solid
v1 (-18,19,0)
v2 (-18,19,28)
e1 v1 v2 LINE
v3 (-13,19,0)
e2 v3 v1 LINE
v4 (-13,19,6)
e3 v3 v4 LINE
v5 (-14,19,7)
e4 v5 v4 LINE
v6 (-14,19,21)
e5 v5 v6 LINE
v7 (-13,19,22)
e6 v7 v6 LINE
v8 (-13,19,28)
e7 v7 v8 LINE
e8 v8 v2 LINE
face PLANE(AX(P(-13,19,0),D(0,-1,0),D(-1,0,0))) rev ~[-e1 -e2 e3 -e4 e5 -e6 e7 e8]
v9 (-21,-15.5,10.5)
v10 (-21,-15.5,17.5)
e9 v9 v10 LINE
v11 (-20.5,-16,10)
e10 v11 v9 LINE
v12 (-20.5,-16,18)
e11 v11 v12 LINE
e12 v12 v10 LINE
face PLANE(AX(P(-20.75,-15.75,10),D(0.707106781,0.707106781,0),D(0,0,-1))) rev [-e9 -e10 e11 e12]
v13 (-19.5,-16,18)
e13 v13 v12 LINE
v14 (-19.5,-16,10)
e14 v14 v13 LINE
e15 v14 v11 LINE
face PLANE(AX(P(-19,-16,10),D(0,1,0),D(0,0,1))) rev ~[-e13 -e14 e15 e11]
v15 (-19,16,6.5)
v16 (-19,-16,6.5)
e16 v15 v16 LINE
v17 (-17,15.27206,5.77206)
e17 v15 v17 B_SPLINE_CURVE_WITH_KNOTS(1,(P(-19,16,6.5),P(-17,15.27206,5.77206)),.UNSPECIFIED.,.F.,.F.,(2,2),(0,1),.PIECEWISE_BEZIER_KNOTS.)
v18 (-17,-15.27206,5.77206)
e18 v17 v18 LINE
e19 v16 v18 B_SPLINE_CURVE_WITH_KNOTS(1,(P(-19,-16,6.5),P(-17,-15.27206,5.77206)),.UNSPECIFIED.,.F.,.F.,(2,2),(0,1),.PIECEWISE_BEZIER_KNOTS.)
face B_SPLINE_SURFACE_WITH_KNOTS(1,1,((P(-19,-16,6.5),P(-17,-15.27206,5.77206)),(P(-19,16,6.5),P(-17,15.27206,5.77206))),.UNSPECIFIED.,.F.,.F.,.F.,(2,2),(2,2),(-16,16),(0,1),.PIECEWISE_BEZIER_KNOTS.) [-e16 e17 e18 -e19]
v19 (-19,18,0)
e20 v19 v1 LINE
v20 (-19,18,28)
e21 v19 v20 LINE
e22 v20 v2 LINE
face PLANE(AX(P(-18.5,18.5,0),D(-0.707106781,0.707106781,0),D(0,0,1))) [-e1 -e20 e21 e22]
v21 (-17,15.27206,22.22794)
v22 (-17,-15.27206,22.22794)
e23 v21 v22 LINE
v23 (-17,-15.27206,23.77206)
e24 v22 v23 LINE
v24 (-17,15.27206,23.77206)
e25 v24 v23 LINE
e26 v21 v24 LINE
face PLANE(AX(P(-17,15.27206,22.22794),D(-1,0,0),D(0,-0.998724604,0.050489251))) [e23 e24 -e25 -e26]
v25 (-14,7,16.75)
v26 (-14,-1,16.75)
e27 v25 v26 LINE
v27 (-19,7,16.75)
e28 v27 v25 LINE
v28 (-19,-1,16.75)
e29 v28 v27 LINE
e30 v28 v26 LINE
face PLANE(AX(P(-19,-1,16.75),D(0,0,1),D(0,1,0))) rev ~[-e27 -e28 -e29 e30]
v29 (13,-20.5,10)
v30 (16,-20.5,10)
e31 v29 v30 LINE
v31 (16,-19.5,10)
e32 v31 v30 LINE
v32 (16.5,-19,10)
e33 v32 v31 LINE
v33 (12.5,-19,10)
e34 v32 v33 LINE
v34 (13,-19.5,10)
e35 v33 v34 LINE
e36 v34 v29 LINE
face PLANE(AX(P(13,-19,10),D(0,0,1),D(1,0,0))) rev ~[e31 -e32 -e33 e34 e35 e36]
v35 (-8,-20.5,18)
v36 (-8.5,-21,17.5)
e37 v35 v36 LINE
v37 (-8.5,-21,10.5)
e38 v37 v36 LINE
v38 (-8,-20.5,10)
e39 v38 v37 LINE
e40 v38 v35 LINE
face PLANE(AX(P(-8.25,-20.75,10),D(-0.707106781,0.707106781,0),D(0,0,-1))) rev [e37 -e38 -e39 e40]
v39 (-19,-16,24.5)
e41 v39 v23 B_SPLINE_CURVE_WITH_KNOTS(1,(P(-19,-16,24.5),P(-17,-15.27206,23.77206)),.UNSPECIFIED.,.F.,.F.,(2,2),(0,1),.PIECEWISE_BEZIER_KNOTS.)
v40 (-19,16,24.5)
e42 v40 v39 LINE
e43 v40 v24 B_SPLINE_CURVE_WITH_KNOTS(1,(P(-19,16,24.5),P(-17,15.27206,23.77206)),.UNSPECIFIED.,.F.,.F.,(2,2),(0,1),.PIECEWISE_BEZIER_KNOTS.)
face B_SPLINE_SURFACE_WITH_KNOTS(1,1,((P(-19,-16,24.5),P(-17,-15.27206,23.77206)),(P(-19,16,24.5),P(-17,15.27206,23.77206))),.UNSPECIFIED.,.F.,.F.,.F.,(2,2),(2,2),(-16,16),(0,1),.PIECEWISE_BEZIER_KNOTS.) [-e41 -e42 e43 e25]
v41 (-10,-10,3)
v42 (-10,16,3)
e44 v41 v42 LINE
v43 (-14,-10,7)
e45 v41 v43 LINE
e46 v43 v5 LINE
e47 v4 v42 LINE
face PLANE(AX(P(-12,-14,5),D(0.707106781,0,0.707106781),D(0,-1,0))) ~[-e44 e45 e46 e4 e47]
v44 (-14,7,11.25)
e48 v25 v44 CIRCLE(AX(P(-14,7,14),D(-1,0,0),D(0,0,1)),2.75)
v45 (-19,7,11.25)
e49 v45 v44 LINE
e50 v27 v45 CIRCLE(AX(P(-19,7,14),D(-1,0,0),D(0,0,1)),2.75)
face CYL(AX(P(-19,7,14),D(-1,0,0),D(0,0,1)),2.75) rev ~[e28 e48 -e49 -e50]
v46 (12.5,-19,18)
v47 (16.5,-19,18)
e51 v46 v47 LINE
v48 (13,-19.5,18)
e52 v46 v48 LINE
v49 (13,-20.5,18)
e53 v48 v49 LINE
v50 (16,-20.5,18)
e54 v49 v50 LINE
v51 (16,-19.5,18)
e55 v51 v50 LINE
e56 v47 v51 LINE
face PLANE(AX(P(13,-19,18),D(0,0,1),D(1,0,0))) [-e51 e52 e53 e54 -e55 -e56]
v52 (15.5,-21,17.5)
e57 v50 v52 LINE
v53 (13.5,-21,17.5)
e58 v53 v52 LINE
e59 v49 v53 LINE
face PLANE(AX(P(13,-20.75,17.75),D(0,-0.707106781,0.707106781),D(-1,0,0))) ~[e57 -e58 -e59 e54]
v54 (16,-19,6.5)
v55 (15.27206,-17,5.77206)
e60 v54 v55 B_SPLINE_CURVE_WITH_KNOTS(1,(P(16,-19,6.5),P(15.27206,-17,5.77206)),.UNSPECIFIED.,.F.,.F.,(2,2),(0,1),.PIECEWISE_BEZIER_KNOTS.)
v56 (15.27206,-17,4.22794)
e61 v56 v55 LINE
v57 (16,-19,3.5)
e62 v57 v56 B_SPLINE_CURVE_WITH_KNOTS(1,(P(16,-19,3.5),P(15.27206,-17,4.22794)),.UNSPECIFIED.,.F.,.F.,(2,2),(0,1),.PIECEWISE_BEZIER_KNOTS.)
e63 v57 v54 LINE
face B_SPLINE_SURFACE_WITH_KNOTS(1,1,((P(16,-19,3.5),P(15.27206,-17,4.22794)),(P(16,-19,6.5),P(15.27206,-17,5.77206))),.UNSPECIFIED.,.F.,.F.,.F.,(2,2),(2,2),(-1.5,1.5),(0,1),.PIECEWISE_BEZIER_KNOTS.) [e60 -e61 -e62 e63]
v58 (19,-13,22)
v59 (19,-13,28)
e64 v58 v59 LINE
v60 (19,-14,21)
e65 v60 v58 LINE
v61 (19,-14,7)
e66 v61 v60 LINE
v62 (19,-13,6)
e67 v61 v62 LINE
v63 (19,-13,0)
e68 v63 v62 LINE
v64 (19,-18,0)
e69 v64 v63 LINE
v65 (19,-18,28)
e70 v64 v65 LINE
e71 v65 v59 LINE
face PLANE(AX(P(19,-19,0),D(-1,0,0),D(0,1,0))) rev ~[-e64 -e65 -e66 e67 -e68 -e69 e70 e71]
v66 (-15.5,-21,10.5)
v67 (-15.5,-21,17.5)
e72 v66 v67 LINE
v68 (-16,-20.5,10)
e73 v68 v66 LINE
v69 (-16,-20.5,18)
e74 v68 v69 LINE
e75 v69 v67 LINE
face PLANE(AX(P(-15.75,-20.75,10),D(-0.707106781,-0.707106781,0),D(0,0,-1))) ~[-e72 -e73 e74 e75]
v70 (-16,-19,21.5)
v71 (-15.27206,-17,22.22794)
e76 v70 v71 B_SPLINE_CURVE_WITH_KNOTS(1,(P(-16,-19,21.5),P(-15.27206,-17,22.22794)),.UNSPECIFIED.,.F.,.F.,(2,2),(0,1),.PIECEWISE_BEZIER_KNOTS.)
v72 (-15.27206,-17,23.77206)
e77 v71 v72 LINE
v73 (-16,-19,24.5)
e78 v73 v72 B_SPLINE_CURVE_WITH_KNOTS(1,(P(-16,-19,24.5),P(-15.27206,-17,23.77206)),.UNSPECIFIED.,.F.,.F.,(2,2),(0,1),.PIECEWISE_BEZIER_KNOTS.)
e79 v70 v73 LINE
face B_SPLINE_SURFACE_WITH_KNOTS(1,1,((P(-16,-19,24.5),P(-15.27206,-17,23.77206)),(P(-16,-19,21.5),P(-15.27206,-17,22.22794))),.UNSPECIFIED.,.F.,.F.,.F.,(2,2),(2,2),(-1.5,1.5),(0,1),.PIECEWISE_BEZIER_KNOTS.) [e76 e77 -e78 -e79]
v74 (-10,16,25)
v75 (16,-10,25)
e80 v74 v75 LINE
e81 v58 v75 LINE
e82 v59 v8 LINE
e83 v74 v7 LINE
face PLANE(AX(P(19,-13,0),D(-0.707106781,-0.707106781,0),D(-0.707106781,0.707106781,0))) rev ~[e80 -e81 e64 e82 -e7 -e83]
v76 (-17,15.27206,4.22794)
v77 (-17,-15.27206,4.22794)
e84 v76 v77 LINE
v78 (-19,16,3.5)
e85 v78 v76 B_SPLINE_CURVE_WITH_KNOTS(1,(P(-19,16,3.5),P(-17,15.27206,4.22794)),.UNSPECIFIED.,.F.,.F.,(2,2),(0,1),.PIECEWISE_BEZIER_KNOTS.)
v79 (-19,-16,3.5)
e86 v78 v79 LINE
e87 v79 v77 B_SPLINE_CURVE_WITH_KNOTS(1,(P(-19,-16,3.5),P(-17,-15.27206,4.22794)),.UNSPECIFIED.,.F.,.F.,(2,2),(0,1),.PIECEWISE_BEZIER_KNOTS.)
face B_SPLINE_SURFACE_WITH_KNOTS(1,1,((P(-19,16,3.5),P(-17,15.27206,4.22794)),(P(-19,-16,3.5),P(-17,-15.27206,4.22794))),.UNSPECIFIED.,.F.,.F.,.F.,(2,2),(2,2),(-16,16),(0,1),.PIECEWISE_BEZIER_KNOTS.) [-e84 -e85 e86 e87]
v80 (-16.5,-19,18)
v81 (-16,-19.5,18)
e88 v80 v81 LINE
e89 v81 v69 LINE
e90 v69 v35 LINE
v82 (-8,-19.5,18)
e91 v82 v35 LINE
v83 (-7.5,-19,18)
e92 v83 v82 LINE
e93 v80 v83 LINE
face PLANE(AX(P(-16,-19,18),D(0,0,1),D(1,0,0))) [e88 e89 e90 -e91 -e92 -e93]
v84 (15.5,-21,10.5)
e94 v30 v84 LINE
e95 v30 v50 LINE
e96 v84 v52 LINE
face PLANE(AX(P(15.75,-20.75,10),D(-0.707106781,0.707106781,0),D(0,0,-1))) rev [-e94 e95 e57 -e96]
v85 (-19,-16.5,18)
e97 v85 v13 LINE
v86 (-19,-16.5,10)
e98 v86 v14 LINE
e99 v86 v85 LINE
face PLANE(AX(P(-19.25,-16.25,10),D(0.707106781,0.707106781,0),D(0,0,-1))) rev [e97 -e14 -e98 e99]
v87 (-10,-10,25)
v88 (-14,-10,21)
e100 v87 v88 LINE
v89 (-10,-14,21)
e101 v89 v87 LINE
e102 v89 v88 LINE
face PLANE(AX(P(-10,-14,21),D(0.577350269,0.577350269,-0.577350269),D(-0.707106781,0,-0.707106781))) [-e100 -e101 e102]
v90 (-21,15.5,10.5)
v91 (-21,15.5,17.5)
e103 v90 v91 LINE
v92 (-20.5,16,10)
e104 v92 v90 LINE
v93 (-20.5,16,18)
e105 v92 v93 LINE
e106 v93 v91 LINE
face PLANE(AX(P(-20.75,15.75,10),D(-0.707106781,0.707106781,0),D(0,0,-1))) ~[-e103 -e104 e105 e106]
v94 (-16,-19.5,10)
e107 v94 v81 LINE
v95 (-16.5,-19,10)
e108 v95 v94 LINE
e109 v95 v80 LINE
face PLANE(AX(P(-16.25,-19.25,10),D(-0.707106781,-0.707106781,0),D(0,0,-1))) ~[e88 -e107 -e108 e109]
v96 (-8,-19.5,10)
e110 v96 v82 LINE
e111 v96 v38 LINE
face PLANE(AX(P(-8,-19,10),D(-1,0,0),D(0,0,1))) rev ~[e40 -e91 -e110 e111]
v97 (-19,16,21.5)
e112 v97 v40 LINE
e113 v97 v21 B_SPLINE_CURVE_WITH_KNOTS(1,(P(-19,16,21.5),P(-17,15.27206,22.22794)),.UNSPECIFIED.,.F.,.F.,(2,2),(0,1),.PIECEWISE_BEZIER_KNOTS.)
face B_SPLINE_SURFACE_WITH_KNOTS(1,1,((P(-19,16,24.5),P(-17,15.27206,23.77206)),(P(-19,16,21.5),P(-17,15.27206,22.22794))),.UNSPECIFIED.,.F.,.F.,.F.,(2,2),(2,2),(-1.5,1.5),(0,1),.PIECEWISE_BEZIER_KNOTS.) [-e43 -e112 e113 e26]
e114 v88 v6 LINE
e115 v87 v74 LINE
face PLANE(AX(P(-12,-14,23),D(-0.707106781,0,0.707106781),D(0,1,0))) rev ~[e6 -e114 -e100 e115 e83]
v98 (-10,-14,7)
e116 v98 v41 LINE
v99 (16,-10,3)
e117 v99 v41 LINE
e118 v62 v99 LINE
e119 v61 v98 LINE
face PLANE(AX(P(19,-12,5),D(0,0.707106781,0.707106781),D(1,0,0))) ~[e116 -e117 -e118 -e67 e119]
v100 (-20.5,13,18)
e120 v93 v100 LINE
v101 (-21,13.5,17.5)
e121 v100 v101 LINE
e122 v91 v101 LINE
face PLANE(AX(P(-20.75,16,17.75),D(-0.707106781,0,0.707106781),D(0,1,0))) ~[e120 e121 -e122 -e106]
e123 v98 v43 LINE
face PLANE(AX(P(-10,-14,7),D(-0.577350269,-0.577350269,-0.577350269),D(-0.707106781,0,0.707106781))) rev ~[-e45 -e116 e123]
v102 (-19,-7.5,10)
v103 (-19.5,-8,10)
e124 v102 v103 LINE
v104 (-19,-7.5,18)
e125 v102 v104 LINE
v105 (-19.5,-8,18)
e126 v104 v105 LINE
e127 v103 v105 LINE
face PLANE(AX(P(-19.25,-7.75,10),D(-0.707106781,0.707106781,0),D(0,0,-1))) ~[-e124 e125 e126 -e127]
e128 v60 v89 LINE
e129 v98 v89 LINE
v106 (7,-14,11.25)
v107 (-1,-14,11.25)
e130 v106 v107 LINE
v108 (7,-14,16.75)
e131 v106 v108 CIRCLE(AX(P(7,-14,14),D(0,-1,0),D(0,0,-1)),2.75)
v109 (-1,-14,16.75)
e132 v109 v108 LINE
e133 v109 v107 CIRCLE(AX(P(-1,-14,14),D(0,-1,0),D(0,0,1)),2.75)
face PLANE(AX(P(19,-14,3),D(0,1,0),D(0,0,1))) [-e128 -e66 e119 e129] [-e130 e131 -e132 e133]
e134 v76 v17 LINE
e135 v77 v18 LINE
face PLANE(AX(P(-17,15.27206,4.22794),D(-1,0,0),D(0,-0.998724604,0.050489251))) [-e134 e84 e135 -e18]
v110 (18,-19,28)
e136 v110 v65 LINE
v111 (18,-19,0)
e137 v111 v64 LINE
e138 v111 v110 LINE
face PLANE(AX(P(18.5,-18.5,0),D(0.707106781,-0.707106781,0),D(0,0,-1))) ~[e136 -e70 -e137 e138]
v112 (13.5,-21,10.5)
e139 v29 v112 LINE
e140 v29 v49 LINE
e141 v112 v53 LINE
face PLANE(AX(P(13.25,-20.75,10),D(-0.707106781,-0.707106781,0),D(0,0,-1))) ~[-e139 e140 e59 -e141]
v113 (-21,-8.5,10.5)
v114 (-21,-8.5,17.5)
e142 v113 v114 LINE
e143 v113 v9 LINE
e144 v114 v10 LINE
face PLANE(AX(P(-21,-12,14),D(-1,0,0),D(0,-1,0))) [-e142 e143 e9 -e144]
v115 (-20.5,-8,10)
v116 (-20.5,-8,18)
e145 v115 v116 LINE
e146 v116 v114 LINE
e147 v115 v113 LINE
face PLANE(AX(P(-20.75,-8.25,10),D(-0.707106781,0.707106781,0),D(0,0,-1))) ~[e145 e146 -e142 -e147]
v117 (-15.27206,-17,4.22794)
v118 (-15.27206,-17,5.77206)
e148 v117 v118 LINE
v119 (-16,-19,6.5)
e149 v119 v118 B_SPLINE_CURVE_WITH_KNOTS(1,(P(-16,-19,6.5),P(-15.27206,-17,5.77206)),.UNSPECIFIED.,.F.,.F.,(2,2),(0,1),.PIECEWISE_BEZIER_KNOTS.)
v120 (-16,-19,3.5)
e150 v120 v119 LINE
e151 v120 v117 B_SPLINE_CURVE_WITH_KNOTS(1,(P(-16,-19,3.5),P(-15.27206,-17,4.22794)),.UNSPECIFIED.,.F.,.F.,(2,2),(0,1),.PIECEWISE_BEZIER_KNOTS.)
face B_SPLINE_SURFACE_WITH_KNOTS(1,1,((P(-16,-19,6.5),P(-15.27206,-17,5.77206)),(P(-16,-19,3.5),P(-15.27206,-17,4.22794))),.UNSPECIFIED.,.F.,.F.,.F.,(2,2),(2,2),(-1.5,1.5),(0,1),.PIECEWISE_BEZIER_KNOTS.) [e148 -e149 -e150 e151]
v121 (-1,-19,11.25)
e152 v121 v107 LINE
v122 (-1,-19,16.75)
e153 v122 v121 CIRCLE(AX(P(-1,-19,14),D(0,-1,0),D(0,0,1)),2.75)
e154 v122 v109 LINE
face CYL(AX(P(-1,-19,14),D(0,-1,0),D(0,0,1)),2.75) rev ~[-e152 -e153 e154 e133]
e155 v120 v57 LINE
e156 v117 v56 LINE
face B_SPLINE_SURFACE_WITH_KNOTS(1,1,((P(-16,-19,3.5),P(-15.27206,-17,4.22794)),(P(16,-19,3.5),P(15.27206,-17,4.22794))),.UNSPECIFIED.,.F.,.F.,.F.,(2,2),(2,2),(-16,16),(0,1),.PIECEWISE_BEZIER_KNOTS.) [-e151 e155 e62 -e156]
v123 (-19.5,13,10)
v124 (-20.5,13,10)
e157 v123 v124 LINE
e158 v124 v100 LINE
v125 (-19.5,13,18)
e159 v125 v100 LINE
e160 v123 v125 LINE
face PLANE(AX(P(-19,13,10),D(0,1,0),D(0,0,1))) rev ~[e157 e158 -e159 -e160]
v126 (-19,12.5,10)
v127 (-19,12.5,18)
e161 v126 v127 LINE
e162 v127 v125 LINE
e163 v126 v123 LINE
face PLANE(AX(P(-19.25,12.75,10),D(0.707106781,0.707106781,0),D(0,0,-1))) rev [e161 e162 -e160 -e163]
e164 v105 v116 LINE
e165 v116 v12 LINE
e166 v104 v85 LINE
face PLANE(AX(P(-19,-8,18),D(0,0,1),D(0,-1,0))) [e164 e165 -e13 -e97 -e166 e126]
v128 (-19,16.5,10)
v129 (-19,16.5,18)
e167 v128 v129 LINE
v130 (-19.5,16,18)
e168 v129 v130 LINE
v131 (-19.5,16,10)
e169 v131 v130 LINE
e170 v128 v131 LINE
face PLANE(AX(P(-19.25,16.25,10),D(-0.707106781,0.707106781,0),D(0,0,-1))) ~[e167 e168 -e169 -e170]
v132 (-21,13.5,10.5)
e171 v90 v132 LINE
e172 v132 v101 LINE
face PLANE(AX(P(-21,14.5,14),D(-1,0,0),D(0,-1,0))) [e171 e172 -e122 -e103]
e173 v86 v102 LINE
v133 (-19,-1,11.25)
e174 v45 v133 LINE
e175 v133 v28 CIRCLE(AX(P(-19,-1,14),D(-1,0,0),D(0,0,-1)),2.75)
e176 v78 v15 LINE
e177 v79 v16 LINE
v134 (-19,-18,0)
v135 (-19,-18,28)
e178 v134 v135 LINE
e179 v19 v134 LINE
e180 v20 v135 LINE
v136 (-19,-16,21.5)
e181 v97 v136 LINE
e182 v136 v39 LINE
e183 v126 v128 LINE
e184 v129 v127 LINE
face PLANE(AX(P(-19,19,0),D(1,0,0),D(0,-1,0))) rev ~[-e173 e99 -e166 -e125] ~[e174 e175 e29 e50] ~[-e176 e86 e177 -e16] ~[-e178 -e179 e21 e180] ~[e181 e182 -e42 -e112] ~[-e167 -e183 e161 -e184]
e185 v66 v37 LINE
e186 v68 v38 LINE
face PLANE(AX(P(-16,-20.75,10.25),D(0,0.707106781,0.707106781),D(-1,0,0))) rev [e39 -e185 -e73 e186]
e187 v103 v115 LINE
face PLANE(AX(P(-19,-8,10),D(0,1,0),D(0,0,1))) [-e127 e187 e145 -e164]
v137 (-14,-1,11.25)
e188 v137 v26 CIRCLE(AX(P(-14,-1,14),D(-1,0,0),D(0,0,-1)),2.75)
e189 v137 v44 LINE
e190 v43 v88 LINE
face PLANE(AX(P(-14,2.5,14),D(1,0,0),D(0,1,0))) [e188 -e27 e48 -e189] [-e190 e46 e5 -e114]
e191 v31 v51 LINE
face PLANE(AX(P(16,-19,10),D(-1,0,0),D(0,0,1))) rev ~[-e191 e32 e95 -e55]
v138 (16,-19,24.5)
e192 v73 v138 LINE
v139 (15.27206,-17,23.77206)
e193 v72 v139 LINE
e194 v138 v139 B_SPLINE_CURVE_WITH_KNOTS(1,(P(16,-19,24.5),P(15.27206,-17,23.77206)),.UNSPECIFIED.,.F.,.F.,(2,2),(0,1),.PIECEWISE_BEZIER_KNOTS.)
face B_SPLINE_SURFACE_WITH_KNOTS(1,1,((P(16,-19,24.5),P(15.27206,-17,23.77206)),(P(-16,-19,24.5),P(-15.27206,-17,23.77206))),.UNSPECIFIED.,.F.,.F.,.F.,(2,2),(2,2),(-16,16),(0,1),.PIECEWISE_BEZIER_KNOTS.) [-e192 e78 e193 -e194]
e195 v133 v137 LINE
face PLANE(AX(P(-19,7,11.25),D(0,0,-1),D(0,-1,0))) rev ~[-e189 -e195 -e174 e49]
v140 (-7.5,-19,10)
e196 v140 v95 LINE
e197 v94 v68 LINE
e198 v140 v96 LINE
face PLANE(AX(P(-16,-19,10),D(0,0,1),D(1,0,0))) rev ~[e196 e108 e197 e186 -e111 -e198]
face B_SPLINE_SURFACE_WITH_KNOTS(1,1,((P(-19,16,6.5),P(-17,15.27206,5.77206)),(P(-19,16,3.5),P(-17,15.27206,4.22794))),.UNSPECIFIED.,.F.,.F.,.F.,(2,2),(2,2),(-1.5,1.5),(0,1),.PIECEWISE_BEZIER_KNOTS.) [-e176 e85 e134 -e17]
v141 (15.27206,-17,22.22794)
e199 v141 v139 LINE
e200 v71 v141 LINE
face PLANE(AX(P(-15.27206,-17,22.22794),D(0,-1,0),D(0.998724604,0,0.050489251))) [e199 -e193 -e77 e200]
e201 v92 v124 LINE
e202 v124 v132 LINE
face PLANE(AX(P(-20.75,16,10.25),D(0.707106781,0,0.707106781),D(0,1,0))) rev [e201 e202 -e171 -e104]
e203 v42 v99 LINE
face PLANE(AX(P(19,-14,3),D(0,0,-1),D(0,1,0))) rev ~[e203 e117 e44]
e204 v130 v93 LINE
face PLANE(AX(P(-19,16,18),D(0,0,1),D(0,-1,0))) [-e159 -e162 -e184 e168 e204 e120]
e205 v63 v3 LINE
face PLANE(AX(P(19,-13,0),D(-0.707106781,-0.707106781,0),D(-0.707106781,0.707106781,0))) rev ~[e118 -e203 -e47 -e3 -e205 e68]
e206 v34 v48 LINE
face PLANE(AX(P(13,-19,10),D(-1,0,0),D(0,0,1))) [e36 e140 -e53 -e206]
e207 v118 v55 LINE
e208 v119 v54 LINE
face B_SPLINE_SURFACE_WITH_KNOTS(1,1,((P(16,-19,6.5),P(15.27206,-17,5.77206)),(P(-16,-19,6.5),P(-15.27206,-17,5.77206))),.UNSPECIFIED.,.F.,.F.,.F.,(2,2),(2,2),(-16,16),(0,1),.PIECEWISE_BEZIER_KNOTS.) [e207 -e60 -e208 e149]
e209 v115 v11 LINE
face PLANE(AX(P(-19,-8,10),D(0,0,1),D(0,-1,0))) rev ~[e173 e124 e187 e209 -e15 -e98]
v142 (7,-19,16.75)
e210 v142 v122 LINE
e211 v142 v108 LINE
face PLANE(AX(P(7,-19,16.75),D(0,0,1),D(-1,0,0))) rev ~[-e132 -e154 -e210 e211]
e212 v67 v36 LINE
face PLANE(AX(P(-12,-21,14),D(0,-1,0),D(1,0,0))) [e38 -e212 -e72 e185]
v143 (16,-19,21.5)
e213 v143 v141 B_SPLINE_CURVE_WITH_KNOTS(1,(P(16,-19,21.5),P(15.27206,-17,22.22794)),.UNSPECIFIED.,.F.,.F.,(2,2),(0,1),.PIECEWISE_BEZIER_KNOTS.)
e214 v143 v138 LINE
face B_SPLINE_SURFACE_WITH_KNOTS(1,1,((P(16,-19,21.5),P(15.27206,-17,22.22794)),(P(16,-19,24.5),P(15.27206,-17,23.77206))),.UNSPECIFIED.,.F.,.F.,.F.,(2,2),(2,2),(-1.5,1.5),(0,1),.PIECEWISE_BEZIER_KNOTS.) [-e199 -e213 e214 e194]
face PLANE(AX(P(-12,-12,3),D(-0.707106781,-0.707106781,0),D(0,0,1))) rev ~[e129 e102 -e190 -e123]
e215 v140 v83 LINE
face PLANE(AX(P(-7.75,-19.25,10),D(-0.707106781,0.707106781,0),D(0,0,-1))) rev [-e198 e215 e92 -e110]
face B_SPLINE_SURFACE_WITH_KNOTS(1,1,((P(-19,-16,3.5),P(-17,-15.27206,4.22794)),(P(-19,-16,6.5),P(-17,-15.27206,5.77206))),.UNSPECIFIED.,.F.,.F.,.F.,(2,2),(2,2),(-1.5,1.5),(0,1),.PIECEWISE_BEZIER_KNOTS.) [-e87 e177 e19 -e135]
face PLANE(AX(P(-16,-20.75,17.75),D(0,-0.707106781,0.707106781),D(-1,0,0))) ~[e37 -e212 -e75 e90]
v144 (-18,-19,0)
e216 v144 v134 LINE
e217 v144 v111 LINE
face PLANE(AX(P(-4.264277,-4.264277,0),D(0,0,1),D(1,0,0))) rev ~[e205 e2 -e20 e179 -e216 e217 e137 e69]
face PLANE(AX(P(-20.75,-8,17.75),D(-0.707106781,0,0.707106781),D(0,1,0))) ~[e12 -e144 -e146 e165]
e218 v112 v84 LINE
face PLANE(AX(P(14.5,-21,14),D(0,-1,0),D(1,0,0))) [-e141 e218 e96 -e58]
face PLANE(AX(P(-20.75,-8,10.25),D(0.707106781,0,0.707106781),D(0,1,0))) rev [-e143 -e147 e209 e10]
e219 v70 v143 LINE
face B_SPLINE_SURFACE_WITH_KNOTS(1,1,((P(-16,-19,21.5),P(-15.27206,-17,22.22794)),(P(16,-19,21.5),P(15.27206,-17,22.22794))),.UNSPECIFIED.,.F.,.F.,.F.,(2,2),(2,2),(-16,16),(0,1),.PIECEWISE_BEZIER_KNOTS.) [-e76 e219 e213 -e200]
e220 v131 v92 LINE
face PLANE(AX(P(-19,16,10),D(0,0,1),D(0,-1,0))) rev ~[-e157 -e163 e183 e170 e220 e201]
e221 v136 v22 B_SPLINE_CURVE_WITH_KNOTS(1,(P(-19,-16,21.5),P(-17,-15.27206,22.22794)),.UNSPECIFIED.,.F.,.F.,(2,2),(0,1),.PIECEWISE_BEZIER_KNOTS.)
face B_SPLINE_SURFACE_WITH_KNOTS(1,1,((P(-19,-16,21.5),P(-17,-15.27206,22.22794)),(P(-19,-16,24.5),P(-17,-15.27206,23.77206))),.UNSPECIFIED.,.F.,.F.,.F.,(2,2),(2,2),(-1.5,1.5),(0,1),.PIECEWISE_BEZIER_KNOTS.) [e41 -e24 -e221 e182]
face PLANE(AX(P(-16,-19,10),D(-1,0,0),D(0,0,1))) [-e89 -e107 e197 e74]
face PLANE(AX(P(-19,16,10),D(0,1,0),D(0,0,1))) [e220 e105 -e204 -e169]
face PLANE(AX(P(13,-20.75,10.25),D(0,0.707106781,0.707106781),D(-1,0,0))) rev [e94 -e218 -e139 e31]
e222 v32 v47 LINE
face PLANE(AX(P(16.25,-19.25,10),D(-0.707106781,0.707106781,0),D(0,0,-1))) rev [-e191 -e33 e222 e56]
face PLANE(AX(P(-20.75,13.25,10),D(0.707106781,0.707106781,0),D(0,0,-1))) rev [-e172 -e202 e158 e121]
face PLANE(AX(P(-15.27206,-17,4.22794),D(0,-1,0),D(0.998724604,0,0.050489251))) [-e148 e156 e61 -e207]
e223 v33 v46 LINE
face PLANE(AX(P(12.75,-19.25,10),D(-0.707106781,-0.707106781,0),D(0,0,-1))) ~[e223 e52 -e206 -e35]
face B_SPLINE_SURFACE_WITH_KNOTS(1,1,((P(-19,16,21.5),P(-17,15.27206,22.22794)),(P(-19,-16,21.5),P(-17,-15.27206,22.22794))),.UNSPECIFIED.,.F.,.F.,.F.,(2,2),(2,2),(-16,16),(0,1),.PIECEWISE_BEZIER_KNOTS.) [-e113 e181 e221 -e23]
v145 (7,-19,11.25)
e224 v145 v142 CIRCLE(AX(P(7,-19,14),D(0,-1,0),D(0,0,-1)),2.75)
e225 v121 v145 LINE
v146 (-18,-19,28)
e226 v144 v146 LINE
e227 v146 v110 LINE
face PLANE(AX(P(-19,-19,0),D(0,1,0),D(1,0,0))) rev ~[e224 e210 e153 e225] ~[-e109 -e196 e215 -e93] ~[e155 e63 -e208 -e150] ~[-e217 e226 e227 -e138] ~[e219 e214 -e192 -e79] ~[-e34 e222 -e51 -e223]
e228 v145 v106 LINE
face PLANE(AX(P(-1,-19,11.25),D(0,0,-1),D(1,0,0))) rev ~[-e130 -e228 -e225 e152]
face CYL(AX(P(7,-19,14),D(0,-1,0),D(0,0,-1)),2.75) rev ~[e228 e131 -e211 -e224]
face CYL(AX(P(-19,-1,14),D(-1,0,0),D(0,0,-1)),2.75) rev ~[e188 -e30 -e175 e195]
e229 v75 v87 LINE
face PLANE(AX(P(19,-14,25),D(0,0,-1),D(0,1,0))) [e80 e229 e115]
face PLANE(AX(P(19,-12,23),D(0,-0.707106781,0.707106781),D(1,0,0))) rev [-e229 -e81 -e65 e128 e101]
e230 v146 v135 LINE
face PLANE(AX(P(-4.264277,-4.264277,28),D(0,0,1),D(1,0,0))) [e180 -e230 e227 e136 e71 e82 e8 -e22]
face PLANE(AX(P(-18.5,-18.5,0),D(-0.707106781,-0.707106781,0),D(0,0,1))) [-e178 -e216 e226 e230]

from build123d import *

# Parameters (mm, degrees)
F1_DEPTH  = 28
F2_W      = 33
F2_H      = 22
F3_DEPTH  = 33
F6_DEPTH  = 25
F7_DEPTH  = 25
F4_W      = 8
F4_H      = 8
F4_W_2    = 3
F8_DEPTH  = 2
F5_W      = 32
F5_H      = 3
F9_DEPTH  = 2
F9_TAPER  = 20
F5_W_2    = 3
F5_H_2    = 8
F5_W_3    = 8
F10_DEPTH = 2
F4_W_3    = 32
F4_H_2    = 3
F11_DEPTH = 2
F11_TAPER = 20
F12_SIZE  = 1
F13_SIZE  = 0.5
F14_SIZE  = 4


with BuildPart() as f1:
    # F0 (on Top) → F1 (new body)
    with BuildSketch(Plane.XY):
        Polygon((-19, -19), (19, -19), (19, -13), (-13, 19), (-19, 19), align=None)
    extrude(amount=F1_DEPTH)

    # F2 (on face) → F3 (cut, through all)
    with BuildSketch(Plane.YZ.offset(19)):
        with Locations((2.5, 14)):
            Rectangle(F2_W, F2_H)
    extrude(amount=-F3_DEPTH, mode=Mode.SUBTRACT)

    # F4 (on face) → F6 (cut)
    with BuildSketch(Plane.XZ.offset(19)):
        with BuildLine():
            Line((-1, 11.25), (7, 11.25))
            ThreePointArc((7, 11.25), (9.75, 14), (7, 16.75))
            Line((7, 16.75), (-1, 16.75))
            ThreePointArc((-1, 16.75), (-3.75, 14), (-1, 11.25))
        make_face()
    extrude(amount=-F6_DEPTH, mode=Mode.SUBTRACT)

    # F5 (on face) → F7 (cut)
    with BuildSketch(Plane(origin=(-19, 0, 0), x_dir=(0, -1, 0), z_dir=(-1, 0, 0))):
        with BuildLine():
            Line((-7, 11.25), (1, 11.25))
            ThreePointArc((1, 11.25), (3.75, 14), (1, 16.75))
            Line((1, 16.75), (-7, 16.75))
            ThreePointArc((-7, 16.75), (-9.75, 14), (-7, 11.25))
        make_face()
    extrude(amount=-F7_DEPTH, mode=Mode.SUBTRACT)

    # F4 (on face) → F8 (join)
    with BuildSketch(Plane.XZ.offset(19)):
        with Locations((-12, 14)):
            Rectangle(F4_W, F4_H)
        with Locations((14.5, 14)):
            Rectangle(F4_W_2, F4_H)
    extrude(amount=F8_DEPTH)

    # F5 (on face) → F9 (cut)
    with BuildSketch(Plane(origin=(-19, 0, 0), x_dir=(0, -1, 0), z_dir=(-1, 0, 0))):
        with Locations((0, 23)):
            Rectangle(F5_W, F5_H)
        with Locations((0, 5)):
            Rectangle(F5_W, F5_H)
    extrude(amount=-F9_DEPTH, taper=F9_TAPER, mode=Mode.SUBTRACT)

    # F5 (on face) → F10 (join)
    with BuildSketch(Plane(origin=(-19, 0, 0), x_dir=(0, -1, 0), z_dir=(-1, 0, 0))):
        with Locations((-14.5, 14)):
            Rectangle(F5_W_2, F5_H_2)
        with Locations((12, 14)):
            Rectangle(F5_W_3, F5_H_2)
    extrude(amount=F10_DEPTH)

    # F4 (on face) → F11 (cut)
    with BuildSketch(Plane.XZ.offset(19)):
        with Locations((0, 23)):
            Rectangle(F4_W_3, F4_H_2)
        with Locations((0, 5)):
            Rectangle(F4_W_3, F4_H_2)
    extrude(amount=-F11_DEPTH, taper=F11_TAPER, mode=Mode.SUBTRACT)

    # F12
    f12_edges = [f1.edges().sort_by_distance(p)[0] for p in [
        (-19, -19, 14),
        (19, -19, 14),
        (-19, 19, 14),
    ]]
    chamfer(f12_edges, length=F12_SIZE)

    # F13
    f13_edges = [f1.edges().sort_by_distance(p)[0] for p in [
        (-21, 14.5, 10),
        (-21, 13, 14),
        (-21, 14.5, 18),
        (-21, 16, 14),
        (-21, -12, 10),
        (-21, -16, 14),
        (-21, -12, 18),
        (-21, -8, 14),
        (-12, -21, 10),
        (-8, -21, 14),
        (-12, -21, 18),
        (-16, -21, 14),
        (14.5, -21, 10),
        (16, -21, 14),
        (14.5, -21, 18),
        (13, -21, 14),
        (-19, 13, 14),
        (-19, -16, 14),
        (-16, -19, 14),
        (13, -19, 14),
        (-19, -8, 14),
        (-19, 16, 14),
        (16, -19, 14),
        (-8, -19, 14),
    ]]
    chamfer(f13_edges, length=F13_SIZE)

    # F14
    f14_edges = [f1.edges().sort_by_distance(p)[0] for p in [
        (-14, 2.5, 3),
        (2.5, -14, 3),
        (-14, 2.5, 25),
        (2.5, -14, 25),
        (-14, -14, 14),
    ]]
    chamfer(f14_edges, length=F14_SIZE)


solid = f1.part
